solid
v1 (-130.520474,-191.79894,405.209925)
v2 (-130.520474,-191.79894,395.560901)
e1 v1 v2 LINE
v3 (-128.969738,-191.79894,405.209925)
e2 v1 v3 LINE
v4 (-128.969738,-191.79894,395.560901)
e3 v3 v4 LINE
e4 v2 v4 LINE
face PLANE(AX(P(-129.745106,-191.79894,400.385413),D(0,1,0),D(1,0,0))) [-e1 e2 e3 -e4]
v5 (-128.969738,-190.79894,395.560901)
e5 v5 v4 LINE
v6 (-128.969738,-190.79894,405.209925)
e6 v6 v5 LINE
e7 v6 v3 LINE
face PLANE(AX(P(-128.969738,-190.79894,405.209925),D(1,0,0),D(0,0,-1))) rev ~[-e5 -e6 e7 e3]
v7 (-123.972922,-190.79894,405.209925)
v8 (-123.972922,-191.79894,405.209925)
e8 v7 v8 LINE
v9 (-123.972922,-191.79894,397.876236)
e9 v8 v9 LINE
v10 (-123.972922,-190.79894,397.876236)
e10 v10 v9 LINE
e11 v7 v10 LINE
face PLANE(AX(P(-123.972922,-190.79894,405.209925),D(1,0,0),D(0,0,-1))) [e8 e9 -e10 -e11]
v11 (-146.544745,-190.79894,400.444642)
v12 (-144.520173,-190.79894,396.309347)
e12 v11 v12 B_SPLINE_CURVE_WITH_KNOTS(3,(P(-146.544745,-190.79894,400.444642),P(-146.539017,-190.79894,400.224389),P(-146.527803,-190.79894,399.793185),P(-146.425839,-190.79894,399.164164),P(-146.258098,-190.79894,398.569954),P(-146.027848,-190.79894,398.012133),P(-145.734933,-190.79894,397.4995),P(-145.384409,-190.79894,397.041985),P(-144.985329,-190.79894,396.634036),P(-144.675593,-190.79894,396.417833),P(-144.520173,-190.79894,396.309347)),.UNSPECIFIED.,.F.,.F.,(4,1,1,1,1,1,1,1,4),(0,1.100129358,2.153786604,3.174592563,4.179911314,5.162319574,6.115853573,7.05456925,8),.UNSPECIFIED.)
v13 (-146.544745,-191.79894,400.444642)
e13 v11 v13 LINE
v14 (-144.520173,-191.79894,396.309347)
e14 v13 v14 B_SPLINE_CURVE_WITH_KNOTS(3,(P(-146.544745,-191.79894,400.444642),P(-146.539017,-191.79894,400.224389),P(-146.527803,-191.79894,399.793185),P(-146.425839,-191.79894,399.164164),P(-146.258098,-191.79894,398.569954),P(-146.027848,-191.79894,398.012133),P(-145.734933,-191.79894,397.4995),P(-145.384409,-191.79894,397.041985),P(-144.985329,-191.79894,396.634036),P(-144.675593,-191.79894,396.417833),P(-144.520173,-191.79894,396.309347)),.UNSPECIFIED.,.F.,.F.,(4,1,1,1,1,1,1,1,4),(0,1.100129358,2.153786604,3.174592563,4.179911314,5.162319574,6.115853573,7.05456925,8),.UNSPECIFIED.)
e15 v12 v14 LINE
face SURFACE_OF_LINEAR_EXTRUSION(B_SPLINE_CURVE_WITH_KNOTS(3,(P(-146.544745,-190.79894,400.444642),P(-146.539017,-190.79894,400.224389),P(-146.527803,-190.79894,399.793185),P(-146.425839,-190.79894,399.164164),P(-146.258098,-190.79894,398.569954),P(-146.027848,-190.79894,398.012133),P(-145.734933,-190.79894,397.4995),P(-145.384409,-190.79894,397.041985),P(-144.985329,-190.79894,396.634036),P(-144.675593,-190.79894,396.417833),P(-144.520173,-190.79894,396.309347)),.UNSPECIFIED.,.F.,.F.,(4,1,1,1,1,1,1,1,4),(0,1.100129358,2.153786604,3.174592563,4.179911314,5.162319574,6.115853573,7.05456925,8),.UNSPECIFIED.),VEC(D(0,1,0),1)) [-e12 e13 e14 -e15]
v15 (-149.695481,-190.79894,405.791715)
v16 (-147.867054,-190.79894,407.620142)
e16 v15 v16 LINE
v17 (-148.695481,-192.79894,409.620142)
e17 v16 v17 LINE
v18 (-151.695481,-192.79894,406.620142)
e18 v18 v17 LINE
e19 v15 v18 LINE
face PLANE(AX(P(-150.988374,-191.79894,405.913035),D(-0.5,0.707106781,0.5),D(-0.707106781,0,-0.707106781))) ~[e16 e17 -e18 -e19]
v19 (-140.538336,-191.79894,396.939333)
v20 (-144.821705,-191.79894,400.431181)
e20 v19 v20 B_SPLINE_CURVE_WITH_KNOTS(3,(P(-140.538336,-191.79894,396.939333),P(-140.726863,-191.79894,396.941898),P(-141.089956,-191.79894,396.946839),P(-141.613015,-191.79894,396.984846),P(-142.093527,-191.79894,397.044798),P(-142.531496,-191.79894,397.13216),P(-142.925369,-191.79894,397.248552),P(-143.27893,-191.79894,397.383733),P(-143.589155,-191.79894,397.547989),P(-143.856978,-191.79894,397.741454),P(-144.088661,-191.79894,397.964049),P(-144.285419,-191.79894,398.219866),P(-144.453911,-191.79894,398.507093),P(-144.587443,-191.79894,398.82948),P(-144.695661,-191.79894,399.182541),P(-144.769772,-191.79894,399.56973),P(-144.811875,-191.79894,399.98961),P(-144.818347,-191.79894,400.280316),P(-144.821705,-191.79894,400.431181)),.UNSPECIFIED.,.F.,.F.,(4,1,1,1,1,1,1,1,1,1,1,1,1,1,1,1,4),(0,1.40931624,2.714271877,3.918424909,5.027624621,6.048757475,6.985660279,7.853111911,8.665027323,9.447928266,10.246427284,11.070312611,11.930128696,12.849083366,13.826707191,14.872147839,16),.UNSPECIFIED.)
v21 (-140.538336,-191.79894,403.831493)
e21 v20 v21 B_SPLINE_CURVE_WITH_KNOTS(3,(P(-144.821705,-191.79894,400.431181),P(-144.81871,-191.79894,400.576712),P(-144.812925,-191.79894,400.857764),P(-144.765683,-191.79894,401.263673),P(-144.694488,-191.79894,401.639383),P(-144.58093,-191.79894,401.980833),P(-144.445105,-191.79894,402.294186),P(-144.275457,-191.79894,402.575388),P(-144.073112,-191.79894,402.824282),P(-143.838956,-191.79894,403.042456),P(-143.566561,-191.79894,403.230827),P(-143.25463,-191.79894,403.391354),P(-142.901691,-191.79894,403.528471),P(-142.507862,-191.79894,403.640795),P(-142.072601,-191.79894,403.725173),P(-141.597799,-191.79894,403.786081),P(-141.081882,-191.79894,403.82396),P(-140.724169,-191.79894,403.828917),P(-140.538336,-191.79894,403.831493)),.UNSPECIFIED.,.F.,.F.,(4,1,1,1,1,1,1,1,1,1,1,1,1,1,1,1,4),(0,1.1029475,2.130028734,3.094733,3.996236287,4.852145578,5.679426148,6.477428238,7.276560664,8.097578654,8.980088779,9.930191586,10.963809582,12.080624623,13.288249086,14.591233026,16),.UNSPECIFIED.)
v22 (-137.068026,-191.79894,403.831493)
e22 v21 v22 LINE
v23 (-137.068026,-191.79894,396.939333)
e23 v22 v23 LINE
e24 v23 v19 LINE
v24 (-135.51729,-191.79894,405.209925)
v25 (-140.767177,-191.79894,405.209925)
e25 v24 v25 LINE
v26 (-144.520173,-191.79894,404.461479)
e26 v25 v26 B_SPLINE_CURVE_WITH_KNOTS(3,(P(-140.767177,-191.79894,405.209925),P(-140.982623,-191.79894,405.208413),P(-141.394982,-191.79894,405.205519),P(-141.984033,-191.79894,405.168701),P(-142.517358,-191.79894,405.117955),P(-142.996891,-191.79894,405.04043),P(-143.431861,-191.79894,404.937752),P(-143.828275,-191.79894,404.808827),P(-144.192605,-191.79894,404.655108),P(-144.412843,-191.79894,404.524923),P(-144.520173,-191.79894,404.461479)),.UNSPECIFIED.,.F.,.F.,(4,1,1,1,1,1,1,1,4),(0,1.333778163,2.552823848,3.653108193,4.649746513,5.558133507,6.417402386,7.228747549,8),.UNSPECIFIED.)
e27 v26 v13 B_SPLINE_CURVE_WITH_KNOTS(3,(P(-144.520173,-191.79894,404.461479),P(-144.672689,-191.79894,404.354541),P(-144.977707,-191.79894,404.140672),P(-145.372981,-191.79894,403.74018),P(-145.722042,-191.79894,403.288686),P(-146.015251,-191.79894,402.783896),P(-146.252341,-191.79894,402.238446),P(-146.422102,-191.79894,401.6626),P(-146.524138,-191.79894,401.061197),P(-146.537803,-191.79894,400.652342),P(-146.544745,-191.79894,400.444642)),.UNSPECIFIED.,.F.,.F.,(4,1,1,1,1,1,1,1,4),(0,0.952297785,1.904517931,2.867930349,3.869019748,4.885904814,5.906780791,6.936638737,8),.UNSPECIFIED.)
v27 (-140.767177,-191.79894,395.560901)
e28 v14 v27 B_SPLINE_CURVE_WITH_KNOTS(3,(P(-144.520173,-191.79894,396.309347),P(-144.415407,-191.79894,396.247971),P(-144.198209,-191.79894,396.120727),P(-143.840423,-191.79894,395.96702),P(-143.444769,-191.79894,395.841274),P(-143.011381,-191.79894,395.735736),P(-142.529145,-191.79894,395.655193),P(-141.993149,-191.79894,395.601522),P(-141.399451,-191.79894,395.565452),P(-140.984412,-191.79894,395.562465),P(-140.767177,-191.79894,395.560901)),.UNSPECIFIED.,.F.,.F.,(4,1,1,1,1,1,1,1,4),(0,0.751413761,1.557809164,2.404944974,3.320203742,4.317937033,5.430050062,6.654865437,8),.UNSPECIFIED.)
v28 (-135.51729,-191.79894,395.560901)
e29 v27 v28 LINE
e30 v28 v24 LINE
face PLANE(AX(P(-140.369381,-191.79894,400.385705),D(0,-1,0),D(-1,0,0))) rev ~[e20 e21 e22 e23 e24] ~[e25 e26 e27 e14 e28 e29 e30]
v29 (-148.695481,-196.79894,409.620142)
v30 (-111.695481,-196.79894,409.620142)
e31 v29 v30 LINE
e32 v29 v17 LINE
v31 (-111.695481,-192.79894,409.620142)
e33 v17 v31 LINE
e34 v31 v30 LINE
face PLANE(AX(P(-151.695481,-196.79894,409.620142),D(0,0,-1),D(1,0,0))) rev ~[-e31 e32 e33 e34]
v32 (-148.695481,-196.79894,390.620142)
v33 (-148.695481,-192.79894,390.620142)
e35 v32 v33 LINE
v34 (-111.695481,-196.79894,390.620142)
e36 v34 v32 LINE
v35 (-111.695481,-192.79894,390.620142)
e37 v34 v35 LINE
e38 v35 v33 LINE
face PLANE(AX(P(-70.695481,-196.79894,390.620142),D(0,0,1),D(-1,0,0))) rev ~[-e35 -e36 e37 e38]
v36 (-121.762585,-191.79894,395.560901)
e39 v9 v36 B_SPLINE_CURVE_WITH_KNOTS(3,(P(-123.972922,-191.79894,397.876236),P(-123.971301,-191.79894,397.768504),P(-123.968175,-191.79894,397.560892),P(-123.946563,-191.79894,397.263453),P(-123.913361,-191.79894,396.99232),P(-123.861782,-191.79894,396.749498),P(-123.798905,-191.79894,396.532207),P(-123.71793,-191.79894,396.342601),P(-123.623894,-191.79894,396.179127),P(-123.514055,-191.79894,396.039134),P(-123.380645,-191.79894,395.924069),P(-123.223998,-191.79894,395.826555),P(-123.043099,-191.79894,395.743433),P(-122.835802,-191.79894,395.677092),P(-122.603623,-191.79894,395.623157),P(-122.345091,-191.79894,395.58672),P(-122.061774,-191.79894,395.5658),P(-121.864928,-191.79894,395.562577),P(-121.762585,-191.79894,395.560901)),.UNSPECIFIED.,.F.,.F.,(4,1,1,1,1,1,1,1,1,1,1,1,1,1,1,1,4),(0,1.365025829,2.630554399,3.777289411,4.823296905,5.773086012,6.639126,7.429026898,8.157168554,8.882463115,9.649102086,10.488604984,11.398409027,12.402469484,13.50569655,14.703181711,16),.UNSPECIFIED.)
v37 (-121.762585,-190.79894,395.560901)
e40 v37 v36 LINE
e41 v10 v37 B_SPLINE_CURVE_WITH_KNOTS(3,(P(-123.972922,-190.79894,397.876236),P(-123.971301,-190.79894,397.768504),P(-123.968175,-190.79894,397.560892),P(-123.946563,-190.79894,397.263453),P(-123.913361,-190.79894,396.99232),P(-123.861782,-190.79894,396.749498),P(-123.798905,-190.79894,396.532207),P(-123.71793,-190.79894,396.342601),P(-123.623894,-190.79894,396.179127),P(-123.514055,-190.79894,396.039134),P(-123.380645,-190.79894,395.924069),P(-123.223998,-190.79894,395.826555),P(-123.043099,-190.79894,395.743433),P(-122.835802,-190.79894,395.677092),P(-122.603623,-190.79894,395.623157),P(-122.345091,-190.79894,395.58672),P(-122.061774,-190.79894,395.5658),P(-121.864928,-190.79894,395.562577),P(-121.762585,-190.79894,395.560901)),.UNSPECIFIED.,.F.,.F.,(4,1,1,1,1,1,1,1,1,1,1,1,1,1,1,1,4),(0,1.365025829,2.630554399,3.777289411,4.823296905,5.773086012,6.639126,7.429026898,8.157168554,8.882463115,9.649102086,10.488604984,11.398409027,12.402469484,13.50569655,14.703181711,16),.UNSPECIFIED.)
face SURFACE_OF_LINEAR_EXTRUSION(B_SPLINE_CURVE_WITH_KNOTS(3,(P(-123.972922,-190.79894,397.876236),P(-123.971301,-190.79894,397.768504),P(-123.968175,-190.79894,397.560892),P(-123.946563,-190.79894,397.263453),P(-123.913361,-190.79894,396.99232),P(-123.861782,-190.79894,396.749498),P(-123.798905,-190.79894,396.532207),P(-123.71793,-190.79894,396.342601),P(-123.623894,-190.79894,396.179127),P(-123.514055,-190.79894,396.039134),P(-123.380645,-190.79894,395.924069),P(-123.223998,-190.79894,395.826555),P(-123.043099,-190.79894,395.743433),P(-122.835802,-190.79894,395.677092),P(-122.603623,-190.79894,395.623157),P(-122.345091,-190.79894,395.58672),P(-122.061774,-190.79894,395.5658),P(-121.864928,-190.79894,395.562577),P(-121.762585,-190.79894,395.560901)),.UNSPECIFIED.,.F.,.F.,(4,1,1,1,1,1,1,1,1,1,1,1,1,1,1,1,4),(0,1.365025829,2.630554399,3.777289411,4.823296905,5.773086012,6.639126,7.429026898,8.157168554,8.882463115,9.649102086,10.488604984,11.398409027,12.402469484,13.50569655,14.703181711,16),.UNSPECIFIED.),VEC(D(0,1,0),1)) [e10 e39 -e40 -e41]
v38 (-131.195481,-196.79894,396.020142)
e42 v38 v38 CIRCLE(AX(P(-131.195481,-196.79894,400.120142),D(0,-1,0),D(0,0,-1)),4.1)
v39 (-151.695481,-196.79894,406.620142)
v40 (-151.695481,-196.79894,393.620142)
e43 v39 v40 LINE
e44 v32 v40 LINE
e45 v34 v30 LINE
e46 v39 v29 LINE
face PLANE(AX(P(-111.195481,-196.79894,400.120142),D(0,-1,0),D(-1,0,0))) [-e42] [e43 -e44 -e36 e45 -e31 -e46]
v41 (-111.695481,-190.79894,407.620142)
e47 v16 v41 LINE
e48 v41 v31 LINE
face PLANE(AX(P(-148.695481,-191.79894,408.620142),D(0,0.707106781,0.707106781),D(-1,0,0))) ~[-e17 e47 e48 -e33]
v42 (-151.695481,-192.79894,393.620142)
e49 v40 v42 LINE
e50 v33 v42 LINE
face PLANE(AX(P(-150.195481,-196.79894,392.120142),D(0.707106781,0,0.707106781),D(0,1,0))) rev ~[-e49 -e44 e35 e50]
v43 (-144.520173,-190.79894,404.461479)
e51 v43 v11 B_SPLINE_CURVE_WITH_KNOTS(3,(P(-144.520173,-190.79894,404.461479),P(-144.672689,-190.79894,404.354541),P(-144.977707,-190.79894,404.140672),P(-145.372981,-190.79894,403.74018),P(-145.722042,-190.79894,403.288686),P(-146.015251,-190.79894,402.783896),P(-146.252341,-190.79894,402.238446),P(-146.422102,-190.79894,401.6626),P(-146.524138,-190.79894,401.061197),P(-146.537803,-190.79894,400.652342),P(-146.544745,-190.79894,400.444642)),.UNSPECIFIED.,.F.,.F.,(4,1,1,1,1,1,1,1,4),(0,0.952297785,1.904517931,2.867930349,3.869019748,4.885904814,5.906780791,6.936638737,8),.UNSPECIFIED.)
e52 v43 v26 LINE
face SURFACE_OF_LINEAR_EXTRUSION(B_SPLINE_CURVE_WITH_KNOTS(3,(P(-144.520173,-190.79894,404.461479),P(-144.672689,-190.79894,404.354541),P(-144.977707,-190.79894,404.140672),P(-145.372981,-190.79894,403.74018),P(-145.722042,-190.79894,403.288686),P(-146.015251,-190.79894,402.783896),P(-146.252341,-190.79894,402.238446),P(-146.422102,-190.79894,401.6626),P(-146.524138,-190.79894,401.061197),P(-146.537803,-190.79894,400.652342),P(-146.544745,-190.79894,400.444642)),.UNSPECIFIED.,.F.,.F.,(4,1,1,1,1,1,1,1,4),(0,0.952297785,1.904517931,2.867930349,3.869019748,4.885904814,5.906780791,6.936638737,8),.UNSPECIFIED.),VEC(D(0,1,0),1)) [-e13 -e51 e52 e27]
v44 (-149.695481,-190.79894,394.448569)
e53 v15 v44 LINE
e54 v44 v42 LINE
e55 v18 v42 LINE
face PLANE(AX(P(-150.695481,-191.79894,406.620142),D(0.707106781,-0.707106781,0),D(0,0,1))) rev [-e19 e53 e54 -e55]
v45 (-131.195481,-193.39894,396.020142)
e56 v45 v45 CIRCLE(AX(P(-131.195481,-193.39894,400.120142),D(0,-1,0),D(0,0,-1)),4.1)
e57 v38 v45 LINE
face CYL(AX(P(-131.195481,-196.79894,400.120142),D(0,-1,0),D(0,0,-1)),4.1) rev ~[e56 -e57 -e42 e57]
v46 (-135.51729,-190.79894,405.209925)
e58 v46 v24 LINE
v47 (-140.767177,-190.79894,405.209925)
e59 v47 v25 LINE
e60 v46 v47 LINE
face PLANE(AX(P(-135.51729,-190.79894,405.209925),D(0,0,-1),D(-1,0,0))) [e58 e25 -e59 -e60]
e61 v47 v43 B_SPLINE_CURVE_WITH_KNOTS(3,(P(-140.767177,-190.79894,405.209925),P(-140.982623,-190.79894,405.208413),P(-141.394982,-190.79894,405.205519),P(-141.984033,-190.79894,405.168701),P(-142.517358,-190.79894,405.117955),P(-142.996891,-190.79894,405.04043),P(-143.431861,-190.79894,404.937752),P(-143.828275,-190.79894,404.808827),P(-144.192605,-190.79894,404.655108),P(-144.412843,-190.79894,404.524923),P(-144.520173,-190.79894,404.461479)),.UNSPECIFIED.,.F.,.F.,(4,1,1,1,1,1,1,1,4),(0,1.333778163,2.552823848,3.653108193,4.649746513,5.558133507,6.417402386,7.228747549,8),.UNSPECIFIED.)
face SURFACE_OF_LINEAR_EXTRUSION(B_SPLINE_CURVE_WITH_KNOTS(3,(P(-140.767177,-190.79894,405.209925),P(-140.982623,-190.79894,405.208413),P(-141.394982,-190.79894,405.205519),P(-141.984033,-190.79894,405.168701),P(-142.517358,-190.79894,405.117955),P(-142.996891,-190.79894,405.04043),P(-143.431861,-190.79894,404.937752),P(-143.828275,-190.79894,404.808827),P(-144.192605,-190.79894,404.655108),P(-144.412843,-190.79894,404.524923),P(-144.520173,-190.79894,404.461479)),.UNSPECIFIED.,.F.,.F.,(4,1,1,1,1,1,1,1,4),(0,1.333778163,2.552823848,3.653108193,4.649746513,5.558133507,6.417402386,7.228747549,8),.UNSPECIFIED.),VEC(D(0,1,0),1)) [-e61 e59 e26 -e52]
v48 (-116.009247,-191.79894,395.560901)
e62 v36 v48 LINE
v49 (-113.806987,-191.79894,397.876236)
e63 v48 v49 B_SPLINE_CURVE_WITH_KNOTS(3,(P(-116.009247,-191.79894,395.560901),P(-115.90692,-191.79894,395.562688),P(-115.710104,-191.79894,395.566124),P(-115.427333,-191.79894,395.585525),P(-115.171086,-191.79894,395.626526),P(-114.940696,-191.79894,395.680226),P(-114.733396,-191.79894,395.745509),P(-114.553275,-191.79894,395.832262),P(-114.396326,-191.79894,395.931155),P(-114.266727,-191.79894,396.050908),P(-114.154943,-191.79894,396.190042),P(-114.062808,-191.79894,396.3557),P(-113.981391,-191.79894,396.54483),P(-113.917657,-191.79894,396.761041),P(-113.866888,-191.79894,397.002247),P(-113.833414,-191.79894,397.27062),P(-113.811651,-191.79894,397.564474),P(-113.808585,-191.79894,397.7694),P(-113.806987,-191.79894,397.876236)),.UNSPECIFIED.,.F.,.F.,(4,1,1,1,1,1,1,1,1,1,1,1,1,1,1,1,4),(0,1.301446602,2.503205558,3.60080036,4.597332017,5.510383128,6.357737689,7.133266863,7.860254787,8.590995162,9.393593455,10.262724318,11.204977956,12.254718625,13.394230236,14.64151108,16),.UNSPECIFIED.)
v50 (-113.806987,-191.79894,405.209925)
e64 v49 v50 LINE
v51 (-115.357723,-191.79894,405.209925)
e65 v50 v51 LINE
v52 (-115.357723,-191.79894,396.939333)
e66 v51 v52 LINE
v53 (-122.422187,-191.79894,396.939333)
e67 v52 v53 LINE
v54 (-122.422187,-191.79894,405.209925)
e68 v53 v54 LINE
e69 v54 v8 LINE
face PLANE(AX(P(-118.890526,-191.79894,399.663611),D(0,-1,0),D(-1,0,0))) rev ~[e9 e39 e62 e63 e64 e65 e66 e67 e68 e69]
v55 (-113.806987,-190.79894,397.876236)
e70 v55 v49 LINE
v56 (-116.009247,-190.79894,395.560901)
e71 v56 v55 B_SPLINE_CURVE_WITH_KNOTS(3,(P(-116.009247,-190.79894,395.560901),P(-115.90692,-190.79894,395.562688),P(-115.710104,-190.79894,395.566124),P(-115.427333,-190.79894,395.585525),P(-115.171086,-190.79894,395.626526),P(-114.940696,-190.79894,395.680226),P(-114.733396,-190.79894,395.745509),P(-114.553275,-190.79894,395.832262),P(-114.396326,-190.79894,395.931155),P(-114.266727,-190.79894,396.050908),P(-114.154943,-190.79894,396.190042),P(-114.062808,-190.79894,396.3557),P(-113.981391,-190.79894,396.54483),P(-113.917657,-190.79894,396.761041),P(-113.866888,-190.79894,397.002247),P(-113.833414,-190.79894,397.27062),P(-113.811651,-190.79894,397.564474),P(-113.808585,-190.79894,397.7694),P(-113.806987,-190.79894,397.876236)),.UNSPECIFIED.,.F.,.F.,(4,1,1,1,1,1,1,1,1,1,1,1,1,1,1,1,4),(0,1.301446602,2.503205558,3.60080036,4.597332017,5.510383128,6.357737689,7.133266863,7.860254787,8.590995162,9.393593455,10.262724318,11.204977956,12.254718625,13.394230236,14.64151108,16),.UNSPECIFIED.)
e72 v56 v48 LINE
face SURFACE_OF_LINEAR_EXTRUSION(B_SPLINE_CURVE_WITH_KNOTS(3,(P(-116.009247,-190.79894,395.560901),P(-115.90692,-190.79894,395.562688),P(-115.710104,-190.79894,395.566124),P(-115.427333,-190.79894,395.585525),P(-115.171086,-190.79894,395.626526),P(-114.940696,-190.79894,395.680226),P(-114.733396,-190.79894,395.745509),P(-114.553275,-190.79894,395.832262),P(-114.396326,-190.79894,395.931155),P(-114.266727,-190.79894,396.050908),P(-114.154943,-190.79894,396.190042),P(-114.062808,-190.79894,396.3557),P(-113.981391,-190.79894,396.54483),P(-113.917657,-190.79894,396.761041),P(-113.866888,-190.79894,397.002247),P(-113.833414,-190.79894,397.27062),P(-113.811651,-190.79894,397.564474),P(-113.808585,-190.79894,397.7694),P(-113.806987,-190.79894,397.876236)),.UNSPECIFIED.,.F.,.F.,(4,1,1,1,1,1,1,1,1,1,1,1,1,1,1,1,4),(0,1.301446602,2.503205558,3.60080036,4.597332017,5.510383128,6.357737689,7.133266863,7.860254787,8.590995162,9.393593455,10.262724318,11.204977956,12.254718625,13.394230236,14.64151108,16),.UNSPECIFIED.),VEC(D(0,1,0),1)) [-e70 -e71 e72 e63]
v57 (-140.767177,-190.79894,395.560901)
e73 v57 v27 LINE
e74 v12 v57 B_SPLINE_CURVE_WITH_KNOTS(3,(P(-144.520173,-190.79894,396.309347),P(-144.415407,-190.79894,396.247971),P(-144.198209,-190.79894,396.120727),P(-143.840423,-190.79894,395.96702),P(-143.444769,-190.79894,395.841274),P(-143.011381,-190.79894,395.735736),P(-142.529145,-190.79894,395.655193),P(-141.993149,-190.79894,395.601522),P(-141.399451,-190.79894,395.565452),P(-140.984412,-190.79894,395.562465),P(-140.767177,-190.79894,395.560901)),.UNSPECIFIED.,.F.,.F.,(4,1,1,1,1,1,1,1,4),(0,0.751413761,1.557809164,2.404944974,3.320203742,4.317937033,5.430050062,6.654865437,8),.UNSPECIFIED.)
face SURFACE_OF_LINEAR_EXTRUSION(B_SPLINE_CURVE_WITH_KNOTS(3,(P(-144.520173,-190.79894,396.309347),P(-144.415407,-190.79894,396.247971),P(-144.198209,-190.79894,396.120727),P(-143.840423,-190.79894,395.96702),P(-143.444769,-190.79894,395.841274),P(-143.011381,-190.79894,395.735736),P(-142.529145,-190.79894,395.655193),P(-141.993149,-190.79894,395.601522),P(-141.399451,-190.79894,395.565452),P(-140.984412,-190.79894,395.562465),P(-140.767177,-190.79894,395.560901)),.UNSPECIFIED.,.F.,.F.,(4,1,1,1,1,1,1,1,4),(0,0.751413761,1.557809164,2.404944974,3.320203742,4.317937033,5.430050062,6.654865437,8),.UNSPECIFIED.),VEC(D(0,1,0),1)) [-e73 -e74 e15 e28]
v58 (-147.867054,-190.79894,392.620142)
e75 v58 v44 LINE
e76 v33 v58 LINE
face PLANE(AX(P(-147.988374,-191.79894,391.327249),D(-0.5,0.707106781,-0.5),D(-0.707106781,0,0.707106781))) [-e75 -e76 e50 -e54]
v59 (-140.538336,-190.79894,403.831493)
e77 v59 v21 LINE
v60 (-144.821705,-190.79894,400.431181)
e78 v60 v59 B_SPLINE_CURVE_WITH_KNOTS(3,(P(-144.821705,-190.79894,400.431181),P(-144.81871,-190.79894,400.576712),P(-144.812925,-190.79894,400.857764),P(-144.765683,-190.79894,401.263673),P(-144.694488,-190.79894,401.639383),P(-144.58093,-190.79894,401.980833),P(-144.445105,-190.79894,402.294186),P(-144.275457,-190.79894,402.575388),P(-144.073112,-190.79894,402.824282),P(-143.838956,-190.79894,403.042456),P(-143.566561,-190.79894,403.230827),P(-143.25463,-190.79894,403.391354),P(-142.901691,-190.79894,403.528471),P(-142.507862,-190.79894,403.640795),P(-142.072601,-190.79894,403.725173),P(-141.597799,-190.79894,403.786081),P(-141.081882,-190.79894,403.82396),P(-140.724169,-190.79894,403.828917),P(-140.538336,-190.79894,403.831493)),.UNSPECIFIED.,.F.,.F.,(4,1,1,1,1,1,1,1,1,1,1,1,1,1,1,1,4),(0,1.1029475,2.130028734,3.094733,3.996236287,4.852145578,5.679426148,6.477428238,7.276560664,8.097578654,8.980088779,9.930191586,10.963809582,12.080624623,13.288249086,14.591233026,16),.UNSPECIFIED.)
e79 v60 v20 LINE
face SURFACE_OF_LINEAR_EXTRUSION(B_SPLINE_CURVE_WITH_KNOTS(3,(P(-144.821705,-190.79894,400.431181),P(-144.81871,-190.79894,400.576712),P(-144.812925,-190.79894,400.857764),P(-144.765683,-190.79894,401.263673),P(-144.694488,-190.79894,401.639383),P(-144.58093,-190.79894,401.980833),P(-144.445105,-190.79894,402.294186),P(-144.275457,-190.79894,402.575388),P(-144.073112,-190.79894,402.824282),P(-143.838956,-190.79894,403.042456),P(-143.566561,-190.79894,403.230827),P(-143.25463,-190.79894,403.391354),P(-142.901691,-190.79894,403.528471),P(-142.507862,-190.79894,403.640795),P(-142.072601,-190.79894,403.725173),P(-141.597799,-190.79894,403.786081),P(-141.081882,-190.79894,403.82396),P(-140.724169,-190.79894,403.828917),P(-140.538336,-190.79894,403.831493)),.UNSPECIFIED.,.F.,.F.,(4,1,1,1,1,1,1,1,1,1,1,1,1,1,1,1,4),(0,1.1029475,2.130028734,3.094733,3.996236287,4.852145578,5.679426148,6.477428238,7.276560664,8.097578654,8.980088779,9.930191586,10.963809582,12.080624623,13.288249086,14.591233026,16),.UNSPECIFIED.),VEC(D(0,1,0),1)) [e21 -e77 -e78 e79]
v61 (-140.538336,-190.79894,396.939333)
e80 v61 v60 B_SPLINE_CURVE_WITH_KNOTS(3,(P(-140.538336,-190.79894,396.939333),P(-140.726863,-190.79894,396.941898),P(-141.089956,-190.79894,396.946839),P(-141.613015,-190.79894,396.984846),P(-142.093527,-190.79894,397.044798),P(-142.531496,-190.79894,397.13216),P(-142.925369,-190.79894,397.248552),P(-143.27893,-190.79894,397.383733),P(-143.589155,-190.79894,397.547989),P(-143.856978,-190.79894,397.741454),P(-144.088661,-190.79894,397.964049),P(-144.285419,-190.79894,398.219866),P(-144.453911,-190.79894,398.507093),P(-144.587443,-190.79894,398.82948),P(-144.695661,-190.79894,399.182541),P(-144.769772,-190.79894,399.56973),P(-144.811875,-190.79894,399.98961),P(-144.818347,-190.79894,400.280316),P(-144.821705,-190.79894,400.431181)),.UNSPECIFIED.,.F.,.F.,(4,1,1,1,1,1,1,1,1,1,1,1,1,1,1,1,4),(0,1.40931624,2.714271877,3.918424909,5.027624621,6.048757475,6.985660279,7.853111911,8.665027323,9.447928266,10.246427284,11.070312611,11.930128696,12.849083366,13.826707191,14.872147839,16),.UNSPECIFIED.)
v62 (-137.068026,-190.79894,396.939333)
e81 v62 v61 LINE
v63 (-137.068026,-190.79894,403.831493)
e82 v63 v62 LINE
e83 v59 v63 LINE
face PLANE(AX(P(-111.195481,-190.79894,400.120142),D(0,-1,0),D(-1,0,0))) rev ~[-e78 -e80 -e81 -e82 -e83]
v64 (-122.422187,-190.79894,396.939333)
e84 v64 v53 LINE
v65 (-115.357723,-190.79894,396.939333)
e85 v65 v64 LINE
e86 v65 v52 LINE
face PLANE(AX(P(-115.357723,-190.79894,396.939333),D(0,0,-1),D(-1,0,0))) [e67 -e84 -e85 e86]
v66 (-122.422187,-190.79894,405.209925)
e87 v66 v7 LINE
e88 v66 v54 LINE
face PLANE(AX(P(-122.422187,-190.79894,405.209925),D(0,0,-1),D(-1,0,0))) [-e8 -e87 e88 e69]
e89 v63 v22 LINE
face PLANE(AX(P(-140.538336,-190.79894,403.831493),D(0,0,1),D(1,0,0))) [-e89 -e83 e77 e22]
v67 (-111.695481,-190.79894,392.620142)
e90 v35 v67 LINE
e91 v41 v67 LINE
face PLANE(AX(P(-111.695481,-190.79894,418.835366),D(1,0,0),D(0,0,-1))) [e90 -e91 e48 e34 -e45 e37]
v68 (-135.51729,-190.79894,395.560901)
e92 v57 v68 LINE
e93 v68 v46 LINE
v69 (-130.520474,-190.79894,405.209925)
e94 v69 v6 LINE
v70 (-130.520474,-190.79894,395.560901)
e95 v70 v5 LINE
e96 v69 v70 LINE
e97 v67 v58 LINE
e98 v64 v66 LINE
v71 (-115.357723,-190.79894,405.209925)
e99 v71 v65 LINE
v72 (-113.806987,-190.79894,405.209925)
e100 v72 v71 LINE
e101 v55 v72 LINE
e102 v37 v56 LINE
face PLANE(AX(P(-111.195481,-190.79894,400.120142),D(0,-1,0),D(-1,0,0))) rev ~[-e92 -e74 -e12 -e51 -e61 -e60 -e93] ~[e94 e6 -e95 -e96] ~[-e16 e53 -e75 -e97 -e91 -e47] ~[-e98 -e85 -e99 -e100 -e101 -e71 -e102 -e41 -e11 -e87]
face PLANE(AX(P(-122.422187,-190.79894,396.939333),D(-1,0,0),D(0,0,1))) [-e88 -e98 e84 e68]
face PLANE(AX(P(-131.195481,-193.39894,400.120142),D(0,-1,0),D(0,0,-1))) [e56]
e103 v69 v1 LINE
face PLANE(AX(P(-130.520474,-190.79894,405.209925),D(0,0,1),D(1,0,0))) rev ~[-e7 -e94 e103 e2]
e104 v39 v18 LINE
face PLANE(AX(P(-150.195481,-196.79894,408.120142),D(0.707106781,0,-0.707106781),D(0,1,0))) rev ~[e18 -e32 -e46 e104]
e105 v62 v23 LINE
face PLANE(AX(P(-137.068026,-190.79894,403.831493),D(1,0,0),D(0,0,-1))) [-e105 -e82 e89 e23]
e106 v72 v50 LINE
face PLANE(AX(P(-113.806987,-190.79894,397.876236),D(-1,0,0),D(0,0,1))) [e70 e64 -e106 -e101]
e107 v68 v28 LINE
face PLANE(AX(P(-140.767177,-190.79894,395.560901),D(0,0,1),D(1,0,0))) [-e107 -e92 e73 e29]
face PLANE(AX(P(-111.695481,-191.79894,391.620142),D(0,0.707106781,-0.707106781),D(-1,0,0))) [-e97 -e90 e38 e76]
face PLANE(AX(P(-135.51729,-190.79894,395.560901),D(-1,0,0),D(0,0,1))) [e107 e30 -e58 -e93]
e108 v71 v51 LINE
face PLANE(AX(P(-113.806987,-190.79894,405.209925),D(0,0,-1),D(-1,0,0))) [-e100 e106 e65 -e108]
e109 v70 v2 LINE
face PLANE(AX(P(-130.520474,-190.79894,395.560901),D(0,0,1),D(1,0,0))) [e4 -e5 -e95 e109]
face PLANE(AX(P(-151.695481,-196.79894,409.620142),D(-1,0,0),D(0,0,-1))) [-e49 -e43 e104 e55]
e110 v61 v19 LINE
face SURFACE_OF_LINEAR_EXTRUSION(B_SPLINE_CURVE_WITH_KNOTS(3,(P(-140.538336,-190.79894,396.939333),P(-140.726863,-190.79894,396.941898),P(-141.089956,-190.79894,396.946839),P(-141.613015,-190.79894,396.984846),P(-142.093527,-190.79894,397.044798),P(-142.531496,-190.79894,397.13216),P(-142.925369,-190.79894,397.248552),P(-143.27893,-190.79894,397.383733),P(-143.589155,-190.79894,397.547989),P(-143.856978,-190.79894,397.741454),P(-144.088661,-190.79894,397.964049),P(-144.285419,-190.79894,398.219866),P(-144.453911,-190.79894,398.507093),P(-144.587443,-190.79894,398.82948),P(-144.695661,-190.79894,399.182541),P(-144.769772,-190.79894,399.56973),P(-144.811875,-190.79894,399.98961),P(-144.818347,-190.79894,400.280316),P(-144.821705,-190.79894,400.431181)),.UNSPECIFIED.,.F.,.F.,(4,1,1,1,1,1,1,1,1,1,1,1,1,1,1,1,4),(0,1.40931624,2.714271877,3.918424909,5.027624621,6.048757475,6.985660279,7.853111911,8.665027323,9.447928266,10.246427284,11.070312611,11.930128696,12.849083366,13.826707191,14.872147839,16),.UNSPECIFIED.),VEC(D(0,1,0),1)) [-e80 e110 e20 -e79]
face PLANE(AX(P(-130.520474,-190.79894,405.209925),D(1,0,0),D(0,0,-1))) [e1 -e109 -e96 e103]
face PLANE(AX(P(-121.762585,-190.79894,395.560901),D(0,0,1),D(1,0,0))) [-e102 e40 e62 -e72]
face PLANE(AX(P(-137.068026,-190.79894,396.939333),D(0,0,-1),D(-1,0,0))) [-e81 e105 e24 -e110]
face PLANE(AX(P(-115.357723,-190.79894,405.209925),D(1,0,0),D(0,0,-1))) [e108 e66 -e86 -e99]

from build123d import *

# Parameters (mm, degrees)
BOSS_EXTRUDE1_DEPTH = 6
SKETCH2_W           = 1.55073591
SKETCH2_H           = 9.649023438
SKETCH2_W_2         = 1.550735909
CUT_EXTRUDE1_DEPTH  = 1
SKETCH3_W           = 49.814071519
SKETCH3_H           = 34.699545546
CUT_EXTRUDE2_DEPTH  = 10
CHAMFER1_SIZE       = 3
CHAMFER2_SIZE       = 2
SKETCH4_R           = 4.1
CUT_EXTRUDE3_DEPTH  = 3.4


with BuildPart() as part:
    # Sketch1 → Boss-Extrude1 (new body)
    with BuildSketch(Plane(origin=(0, -196.798939869, 0), x_dir=(1, 0, 0), z_dir=(0, 1, 0))):
        Polygon((-110.695481055, -390.620141885), (-70.695481055, -390.620141885), (-70.695481055, -409.620141885), (-110.695481055, -409.620141885), (-151.695481055, -409.620141885), (-151.695481055, -390.620141885), align=None)
    extrude(amount=BOSS_EXTRUDE1_DEPTH)

    # Sketch2 → Cut-Extrude1 (cut)
    # profile 1 of 6: a face of its own
    with BuildSketch(Plane(origin=(0, -190.798939869, 0), x_dir=(1, 0, 0), z_dir=(0, 1, 0))):
        with BuildLine():
            add(Edge.make_bspline(
                [(-140.767176982, -405.209924667), (-140.982622928, -405.208412821), (-141.394982016, -405.205519181), (-141.98403336, -405.168701103), (-142.517358029, -405.117955452), (-142.996891336, -405.040429638), (-143.431861328, -404.937751856), (-143.828275274, -404.808826708), (-144.192604534, -404.655107583), (-144.412843494, -404.524922655), (-144.520173264, -404.46147921)],
                knots=[0, 0, 0, 0, 1.333778163, 2.552823848, 3.653108193, 4.649746513, 5.558133507, 6.417402386, 7.228747549, 8, 8, 8, 8], degree=3))
            add(Edge.make_bspline(
                [(-144.520173264, -404.46147921), (-144.672688651, -404.354540566), (-144.977706991, -404.140671998), (-145.372980808, -403.740179693), (-145.72204175, -403.288685781), (-146.015251375, -402.783895607), (-146.252341242, -402.23844628), (-146.422101614, -401.66260039), (-146.524137936, -401.061196848), (-146.537803169, -400.652341907), (-146.544745145, -400.444642444)],
                knots=[0, 0, 0, 0, 0.952297785, 1.904517931, 2.867930349, 3.869019748, 4.885904814, 5.906780791, 6.936638737, 8, 8, 8, 8], degree=3))
            add(Edge.make_bspline(
                [(-146.544745145, -400.444642444), (-146.539017026, -400.224388593), (-146.527802756, -399.793184944), (-146.425839385, -399.164163809), (-146.258098069, -398.569953885), (-146.027848138, -398.012133469), (-145.734933397, -397.499500284), (-145.384408604, -397.041985203), (-144.985328734, -396.634035669), (-144.675593052, -396.417833194), (-144.520173264, -396.309346685)],
                knots=[0, 0, 0, 0, 1.100129358, 2.153786604, 3.174592563, 4.179911314, 5.162319574, 6.115853573, 7.05456925, 8, 8, 8, 8], degree=3))
            add(Edge.make_bspline(
                [(-144.520173264, -396.309346685), (-144.415407214, -396.247970567), (-144.198209286, -396.120727383), (-143.840423238, -395.967019912), (-143.444768852, -395.841274433), (-143.011380567, -395.735735637), (-142.529145335, -395.655193263), (-141.993148894, -395.601522013), (-141.399450617, -395.565451573), (-140.984411915, -395.562464625), (-140.767176982, -395.560901229)],
                knots=[0, 0, 0, 0, 0.751413761, 1.557809164, 2.404944974, 3.320203742, 4.317937033, 5.430050062, 6.654865437, 8, 8, 8, 8], degree=3))
            Line((-140.767176982, -395.560901229), (-135.517289788, -395.560901229))
            Line((-135.517289788, -395.560901229), (-135.517289788, -405.209924667))
            Line((-135.517289788, -405.209924667), (-140.767176982, -405.209924667))
        make_face()
        with BuildLine():
            Line((-140.538335746, -403.831492747), (-137.068025698, -403.831492747))
            Line((-137.068025698, -403.831492747), (-137.068025698, -396.939333149))
            Line((-137.068025698, -396.939333149), (-140.538335746, -396.939333149))
            add(Edge.make_bspline(
                [(-140.538335746, -396.939333149), (-140.726862755, -396.941898287), (-141.089956251, -396.946838613), (-141.61301485, -396.984845883), (-142.093527417, -397.044798091), (-142.531495923, -397.132160177), (-142.925368528, -397.248552244), (-143.278930228, -397.383732816), (-143.589154837, -397.547989389), (-143.856977936, -397.741453756), (-144.088661152, -397.964049484), (-144.285418794, -398.219866085), (-144.453911174, -398.507093156), (-144.587443165, -398.829479607), (-144.695661065, -399.182540893), (-144.769772109, -399.569730192), (-144.811875271, -399.989610443), (-144.818346787, -400.28031641), (-144.821705246, -400.431181195)],
                knots=[0, 0, 0, 0, 1.40931624, 2.714271877, 3.918424909, 5.027624621, 6.048757475, 6.985660279, 7.853111911, 8.665027323, 9.447928266, 10.246427284, 11.070312611, 11.930128696, 12.849083366, 13.826707191, 14.872147839, 16, 16, 16, 16], degree=3))
            add(Edge.make_bspline(
                [(-144.821705246, -400.431181195), (-144.818709771, -400.576712398), (-144.812924864, -400.857764438), (-144.765683368, -401.263673078), (-144.694488189, -401.639383199), (-144.580929863, -401.980833169), (-144.445105089, -402.294186016), (-144.27545686, -402.57538752), (-144.073112413, -402.824282209), (-143.83895635, -403.042456395), (-143.566561363, -403.230826533), (-143.2546296, -403.391353977), (-142.901690894, -403.528470783), (-142.507862117, -403.640795062), (-142.072601063, -403.725173206), (-141.597799376, -403.786080538), (-141.081882008, -403.823960231), (-140.724169188, -403.828917449), (-140.538335746, -403.831492747)],
                knots=[0, 0, 0, 0, 1.1029475, 2.130028734, 3.094733, 3.996236287, 4.852145578, 5.679426148, 6.477428238, 7.276560664, 8.097578654, 8.980088779, 9.930191586, 10.963809582, 12.080624623, 13.288249086, 14.591233026, 16, 16, 16, 16], degree=3))
        make_face(mode=Mode.SUBTRACT)
    # profile 2 of 6: a face of its own
    with BuildSketch(Plane(origin=(0, -190.798939869, 0), x_dir=(1, 0, 0), z_dir=(0, 1, 0))):
        with Locations((-129.745106125, -400.385412948)):
            Rectangle(SKETCH2_W, SKETCH2_H)
    # profile 3 of 6: a face of its own
    with BuildSketch(Plane(origin=(0, -190.798939869, 0), x_dir=(1, 0, 0), z_dir=(0, 1, 0))):
        with BuildLine():
            Line((-115.357722964, -405.209924667), (-115.357722964, -396.939333149))
            Line((-115.357722964, -396.939333149), (-122.422186552, -396.939333149))
            Line((-122.422186552, -396.939333149), (-122.422186552, -405.209924667))
            Line((-122.422186552, -405.209924667), (-123.972922461, -405.209924667))
            Line((-123.972922461, -405.209924667), (-123.972922461, -397.876236094))
            add(Edge.make_bspline(
                [(-123.972922461, -397.876236094), (-123.97130062, -397.768503726), (-123.968175155, -397.560891645), (-123.946562754, -397.263453332), (-123.913361153, -396.992319774), (-123.861781613, -396.749497692), (-123.798905063, -396.532206755), (-123.717930323, -396.342601202), (-123.623893906, -396.179127334), (-123.51405496, -396.039134081), (-123.380645379, -395.924069451), (-123.223997755, -395.826555258), (-123.043098505, -395.743432714), (-122.835801675, -395.677092248), (-122.603622791, -395.623157153), (-122.345091238, -395.586720416), (-122.061773796, -395.565800066), (-121.864927889, -395.56257696), (-121.76258534, -395.560901229)],
                knots=[0, 0, 0, 0, 1.365025829, 2.630554399, 3.777289411, 4.823296905, 5.773086012, 6.639126, 7.429026898, 8.157168554, 8.882463115, 9.649102086, 10.488604984, 11.398409027, 12.402469484, 13.50569655, 14.703181711, 16, 16, 16, 16], degree=3))
            Line((-121.76258534, -395.560901229), (-116.009247426, -395.560901229))
            add(Edge.make_bspline(
                [(-116.009247426, -395.560901229), (-115.906920359, -395.562687865), (-115.710104231, -395.566124284), (-115.427333413, -395.58552546), (-115.171085642, -395.626525893), (-114.940696482, -395.680226348), (-114.733396449, -395.745508539), (-114.553275043, -395.832261863), (-114.396325587, -395.931154528), (-114.266726678, -396.050908492), (-114.154943277, -396.190042043), (-114.062808079, -396.355700348), (-113.981390872, -396.544829811), (-113.917656822, -396.761041229), (-113.866888225, -397.002247145), (-113.833414163, -397.270620412), (-113.811650677, -397.564474201), (-113.808585204, -397.769400211), (-113.806987054, -397.876236094)],
                knots=[0, 0, 0, 0, 1.301446602, 2.503205558, 3.60080036, 4.597332017, 5.510383128, 6.357737689, 7.133266863, 7.860254787, 8.590995162, 9.393593455, 10.262724318, 11.204977956, 12.254718625, 13.394230236, 14.64151108, 16, 16, 16, 16], degree=3))
            Line((-113.806987054, -397.876236094), (-113.806987054, -405.209924667))
            Line((-113.806987054, -405.209924667), (-115.357722964, -405.209924667))
        make_face()
    # profile 4 of 6: a face of its own
    with BuildSketch(Plane(origin=(0, -190.798939869, 0), x_dir=(1, 0, 0), z_dir=(0, 1, 0))):
        with BuildLine():
            add(Edge.make_bspline(
                [(-97.955019978, -402.870359553), (-97.956652565, -402.978088999), (-97.959798739, -403.185695451), (-97.981268964, -403.483172415), (-98.015048775, -403.755050365), (-98.065378023, -403.999133459), (-98.1304323, -404.217037438), (-98.206687836, -404.40992551), (-98.301548404, -404.575336569), (-98.411034046, -404.718120224), (-98.544442988, -404.835934988), (-98.701069946, -404.936199437), (-98.882708774, -405.022503111), (-99.090920415, -405.091152386), (-99.324340246, -405.145039922), (-99.583864206, -405.180769412), (-99.869613361, -405.206059906), (-100.069270672, -405.208599655), (-100.173433849, -405.209924667)],
                knots=[0, 0, 0, 0, 1.356221993, 2.613588442, 3.7529275, 4.803245948, 5.746909319, 6.613424892, 7.408010909, 8.14031288, 8.868419245, 9.636206373, 10.47510186, 11.393329314, 12.390914008, 13.487025728, 14.688956683, 16, 16, 16, 16], degree=3))
            Line((-100.173433849, -405.209924667), (-106.936365454, -405.209924667))
            add(Edge.make_bspline(
                [(-106.936365454, -405.209924667), (-107.03959143, -405.208168009), (-107.237308227, -405.204803345), (-107.521846366, -405.185117085), (-107.779867844, -405.144247356), (-108.01302586, -405.090709797), (-108.221545349, -405.025218465), (-108.404305019, -404.941105061), (-108.562292124, -404.842079279), (-108.695959314, -404.723411798), (-108.805834581, -404.580848257), (-108.899064948, -404.415265905), (-108.981397593, -404.224482592), (-109.043478168, -404.005085856), (-109.09525377, -403.759657576), (-109.128239011, -403.486707323), (-109.150133277, -403.187505345), (-109.153187914, -402.978991502), (-109.154779325, -402.870359553)],
                knots=[0, 0, 0, 0, 1.299210286, 2.488479226, 3.585823455, 4.582994824, 5.497291421, 6.331034297, 7.108000517, 7.835805208, 8.567803767, 9.362060566, 10.222158455, 11.176253704, 12.226136976, 13.376204297, 14.633049786, 16, 16, 16, 16], degree=3))
            Line((-109.154779325, -402.870359553), (-109.154779325, -397.854698095))
            add(Edge.make_bspline(
                [(-109.154779325, -397.854698095), (-109.153151378, -397.747864039), (-109.150015111, -397.542046438), (-109.128503265, -397.247278496), (-109.094894709, -396.978008156), (-109.044020497, -396.736842057), (-108.980901322, -396.521291491), (-108.899001076, -396.334013033), (-108.80658263, -396.171325929), (-108.69573208, -396.033634198), (-108.561285836, -395.920666277), (-108.403637682, -395.824563938), (-108.221581059, -395.740232658), (-108.01335545, -395.674186162), (-107.77970286, -395.624053469), (-107.52162289, -395.586441232), (-107.237333904, -395.5658101), (-107.039600238, -395.562585014), (-106.936365454, -395.560901229)],
                knots=[0, 0, 0, 0, 1.357245466, 2.61475614, 3.753224731, 4.80200455, 5.743395722, 6.6012629, 7.393257341, 8.114460715, 8.834220599, 9.61255537, 10.454283276, 11.377336392, 12.381536746, 13.487687791, 14.68834675, 16, 16, 16, 16], degree=3))
            Line((-106.936365454, -395.560901229), (-105.81908177, -395.560901229))
            Line((-105.81908177, -395.560901229), (-106.974056952, -393.14864537))
            Line((-106.974056952, -393.14864537), (-105.420628793, -393.14864537))
            Line((-105.420628793, -393.14864537), (-104.384112603, -395.560901229))
            Line((-104.384112603, -395.560901229), (-100.173433849, -395.560901229))
            add(Edge.make_bspline(
                [(-100.173433849, -395.560901229), (-100.069299861, -395.562576695), (-99.869770228, -395.565787032), (-99.583710784, -395.586483719), (-99.324398952, -395.623381546), (-99.090777766, -395.67665049), (-98.883528866, -395.746452514), (-98.700271675, -395.828557698), (-98.545451596, -395.929855275), (-98.410938513, -396.044261005), (-98.302420462, -396.184244467), (-98.205884472, -396.345061043), (-98.130494516, -396.534972277), (-98.066128283, -396.748472614), (-98.014313393, -396.98778752), (-97.981722229, -397.253596433), (-97.959616393, -397.545617805), (-97.95659546, -397.74875672), (-97.955019978, -397.854698095)],
                knots=[0, 0, 0, 0, 1.324586597, 2.538021266, 3.64545599, 4.653345889, 5.581058773, 6.423763498, 7.199481985, 7.927542786, 8.658461541, 9.441536144, 10.306446208, 11.248929857, 12.276599877, 13.416389652, 14.652590838, 16, 16, 16, 16], degree=3))
            Line((-97.955019978, -397.854698095), (-97.955019978, -402.870359553))
        make_face()
        Polygon((-105.178326307, -396.939333149), (-107.604043416, -396.939333149), (-107.604043416, -403.831492747), (-99.505755888, -403.831492747), (-99.505755888, -396.939333149), (-103.75412614, -396.939333149), (-102.744532449, -399.106594272), (-103.845662635, -399.523892998), align=None, mode=Mode.SUBTRACT)
    # profile 5 of 6: a face of its own
    with BuildSketch(Plane(origin=(0, -190.798939869, 0), x_dir=(1, 0, 0), z_dir=(0, 1, 0))):
        with Locations((-92.182836315, -400.385412948)):
            Rectangle(SKETCH2_W_2, SKETCH2_H)
    # profile 6 of 6: a face of its own
    with BuildSketch(Plane(origin=(0, -190.798939869, 0), x_dir=(1, 0, 0), z_dir=(0, 1, 0))):
        Polygon((-79.173885073, -395.560901229), (-79.173885073, -405.209924667), (-80.724620983, -405.209924667), (-80.724620983, -396.939333149), (-87.961388561, -396.939333149), (-87.961388561, -395.560901229), align=None)
    extrude(amount=-CUT_EXTRUDE1_DEPTH, mode=Mode.SUBTRACT)

    # Sketch3 → Cut-Extrude2 (cut)
    with BuildSketch(Plane(origin=(0, -190.798939869, 0), x_dir=(1, 0, 0), z_dir=(0, 1, 0))):
        with Locations((-86.788445295, -401.485593686)):
            Rectangle(SKETCH3_W, SKETCH3_H)
    extrude(amount=-CUT_EXTRUDE2_DEPTH, mode=Mode.SUBTRACT)

    # Chamfer1
    chamfer1_edges = [part.edges().sort_by_distance(p)[0] for p in [
        (-151.695481055, -193.798939869, 409.620141885),
        (-151.695481055, -193.798939869, 390.620141885),
    ]]
    chamfer(chamfer1_edges, length=CHAMFER1_SIZE)

    # Chamfer2
    chamfer2_edges = [part.edges().sort_by_distance(p)[0] for p in [
        (-130.195481055, -190.798939869, 390.620141885),
        (-130.195481055, -190.798939869, 409.620141885),
        (-151.695481055, -190.798939869, 400.120141885),
        (-150.195481055, -190.798939869, 392.120141885),
        (-150.195481055, -190.798939869, 408.120141885),
    ]]
    chamfer(chamfer2_edges, length=CHAMFER2_SIZE)

    # Sketch4 → Cut-Extrude3 (cut)
    with BuildSketch(Plane.XZ.offset(196.798939869)):
        with Locations(Location((-131.195481055, 400.120141885, 0), (0, 0, 270))):
            Circle(SKETCH4_R)
    extrude(amount=-CUT_EXTRUDE3_DEPTH, mode=Mode.SUBTRACT)


solid = part.part
